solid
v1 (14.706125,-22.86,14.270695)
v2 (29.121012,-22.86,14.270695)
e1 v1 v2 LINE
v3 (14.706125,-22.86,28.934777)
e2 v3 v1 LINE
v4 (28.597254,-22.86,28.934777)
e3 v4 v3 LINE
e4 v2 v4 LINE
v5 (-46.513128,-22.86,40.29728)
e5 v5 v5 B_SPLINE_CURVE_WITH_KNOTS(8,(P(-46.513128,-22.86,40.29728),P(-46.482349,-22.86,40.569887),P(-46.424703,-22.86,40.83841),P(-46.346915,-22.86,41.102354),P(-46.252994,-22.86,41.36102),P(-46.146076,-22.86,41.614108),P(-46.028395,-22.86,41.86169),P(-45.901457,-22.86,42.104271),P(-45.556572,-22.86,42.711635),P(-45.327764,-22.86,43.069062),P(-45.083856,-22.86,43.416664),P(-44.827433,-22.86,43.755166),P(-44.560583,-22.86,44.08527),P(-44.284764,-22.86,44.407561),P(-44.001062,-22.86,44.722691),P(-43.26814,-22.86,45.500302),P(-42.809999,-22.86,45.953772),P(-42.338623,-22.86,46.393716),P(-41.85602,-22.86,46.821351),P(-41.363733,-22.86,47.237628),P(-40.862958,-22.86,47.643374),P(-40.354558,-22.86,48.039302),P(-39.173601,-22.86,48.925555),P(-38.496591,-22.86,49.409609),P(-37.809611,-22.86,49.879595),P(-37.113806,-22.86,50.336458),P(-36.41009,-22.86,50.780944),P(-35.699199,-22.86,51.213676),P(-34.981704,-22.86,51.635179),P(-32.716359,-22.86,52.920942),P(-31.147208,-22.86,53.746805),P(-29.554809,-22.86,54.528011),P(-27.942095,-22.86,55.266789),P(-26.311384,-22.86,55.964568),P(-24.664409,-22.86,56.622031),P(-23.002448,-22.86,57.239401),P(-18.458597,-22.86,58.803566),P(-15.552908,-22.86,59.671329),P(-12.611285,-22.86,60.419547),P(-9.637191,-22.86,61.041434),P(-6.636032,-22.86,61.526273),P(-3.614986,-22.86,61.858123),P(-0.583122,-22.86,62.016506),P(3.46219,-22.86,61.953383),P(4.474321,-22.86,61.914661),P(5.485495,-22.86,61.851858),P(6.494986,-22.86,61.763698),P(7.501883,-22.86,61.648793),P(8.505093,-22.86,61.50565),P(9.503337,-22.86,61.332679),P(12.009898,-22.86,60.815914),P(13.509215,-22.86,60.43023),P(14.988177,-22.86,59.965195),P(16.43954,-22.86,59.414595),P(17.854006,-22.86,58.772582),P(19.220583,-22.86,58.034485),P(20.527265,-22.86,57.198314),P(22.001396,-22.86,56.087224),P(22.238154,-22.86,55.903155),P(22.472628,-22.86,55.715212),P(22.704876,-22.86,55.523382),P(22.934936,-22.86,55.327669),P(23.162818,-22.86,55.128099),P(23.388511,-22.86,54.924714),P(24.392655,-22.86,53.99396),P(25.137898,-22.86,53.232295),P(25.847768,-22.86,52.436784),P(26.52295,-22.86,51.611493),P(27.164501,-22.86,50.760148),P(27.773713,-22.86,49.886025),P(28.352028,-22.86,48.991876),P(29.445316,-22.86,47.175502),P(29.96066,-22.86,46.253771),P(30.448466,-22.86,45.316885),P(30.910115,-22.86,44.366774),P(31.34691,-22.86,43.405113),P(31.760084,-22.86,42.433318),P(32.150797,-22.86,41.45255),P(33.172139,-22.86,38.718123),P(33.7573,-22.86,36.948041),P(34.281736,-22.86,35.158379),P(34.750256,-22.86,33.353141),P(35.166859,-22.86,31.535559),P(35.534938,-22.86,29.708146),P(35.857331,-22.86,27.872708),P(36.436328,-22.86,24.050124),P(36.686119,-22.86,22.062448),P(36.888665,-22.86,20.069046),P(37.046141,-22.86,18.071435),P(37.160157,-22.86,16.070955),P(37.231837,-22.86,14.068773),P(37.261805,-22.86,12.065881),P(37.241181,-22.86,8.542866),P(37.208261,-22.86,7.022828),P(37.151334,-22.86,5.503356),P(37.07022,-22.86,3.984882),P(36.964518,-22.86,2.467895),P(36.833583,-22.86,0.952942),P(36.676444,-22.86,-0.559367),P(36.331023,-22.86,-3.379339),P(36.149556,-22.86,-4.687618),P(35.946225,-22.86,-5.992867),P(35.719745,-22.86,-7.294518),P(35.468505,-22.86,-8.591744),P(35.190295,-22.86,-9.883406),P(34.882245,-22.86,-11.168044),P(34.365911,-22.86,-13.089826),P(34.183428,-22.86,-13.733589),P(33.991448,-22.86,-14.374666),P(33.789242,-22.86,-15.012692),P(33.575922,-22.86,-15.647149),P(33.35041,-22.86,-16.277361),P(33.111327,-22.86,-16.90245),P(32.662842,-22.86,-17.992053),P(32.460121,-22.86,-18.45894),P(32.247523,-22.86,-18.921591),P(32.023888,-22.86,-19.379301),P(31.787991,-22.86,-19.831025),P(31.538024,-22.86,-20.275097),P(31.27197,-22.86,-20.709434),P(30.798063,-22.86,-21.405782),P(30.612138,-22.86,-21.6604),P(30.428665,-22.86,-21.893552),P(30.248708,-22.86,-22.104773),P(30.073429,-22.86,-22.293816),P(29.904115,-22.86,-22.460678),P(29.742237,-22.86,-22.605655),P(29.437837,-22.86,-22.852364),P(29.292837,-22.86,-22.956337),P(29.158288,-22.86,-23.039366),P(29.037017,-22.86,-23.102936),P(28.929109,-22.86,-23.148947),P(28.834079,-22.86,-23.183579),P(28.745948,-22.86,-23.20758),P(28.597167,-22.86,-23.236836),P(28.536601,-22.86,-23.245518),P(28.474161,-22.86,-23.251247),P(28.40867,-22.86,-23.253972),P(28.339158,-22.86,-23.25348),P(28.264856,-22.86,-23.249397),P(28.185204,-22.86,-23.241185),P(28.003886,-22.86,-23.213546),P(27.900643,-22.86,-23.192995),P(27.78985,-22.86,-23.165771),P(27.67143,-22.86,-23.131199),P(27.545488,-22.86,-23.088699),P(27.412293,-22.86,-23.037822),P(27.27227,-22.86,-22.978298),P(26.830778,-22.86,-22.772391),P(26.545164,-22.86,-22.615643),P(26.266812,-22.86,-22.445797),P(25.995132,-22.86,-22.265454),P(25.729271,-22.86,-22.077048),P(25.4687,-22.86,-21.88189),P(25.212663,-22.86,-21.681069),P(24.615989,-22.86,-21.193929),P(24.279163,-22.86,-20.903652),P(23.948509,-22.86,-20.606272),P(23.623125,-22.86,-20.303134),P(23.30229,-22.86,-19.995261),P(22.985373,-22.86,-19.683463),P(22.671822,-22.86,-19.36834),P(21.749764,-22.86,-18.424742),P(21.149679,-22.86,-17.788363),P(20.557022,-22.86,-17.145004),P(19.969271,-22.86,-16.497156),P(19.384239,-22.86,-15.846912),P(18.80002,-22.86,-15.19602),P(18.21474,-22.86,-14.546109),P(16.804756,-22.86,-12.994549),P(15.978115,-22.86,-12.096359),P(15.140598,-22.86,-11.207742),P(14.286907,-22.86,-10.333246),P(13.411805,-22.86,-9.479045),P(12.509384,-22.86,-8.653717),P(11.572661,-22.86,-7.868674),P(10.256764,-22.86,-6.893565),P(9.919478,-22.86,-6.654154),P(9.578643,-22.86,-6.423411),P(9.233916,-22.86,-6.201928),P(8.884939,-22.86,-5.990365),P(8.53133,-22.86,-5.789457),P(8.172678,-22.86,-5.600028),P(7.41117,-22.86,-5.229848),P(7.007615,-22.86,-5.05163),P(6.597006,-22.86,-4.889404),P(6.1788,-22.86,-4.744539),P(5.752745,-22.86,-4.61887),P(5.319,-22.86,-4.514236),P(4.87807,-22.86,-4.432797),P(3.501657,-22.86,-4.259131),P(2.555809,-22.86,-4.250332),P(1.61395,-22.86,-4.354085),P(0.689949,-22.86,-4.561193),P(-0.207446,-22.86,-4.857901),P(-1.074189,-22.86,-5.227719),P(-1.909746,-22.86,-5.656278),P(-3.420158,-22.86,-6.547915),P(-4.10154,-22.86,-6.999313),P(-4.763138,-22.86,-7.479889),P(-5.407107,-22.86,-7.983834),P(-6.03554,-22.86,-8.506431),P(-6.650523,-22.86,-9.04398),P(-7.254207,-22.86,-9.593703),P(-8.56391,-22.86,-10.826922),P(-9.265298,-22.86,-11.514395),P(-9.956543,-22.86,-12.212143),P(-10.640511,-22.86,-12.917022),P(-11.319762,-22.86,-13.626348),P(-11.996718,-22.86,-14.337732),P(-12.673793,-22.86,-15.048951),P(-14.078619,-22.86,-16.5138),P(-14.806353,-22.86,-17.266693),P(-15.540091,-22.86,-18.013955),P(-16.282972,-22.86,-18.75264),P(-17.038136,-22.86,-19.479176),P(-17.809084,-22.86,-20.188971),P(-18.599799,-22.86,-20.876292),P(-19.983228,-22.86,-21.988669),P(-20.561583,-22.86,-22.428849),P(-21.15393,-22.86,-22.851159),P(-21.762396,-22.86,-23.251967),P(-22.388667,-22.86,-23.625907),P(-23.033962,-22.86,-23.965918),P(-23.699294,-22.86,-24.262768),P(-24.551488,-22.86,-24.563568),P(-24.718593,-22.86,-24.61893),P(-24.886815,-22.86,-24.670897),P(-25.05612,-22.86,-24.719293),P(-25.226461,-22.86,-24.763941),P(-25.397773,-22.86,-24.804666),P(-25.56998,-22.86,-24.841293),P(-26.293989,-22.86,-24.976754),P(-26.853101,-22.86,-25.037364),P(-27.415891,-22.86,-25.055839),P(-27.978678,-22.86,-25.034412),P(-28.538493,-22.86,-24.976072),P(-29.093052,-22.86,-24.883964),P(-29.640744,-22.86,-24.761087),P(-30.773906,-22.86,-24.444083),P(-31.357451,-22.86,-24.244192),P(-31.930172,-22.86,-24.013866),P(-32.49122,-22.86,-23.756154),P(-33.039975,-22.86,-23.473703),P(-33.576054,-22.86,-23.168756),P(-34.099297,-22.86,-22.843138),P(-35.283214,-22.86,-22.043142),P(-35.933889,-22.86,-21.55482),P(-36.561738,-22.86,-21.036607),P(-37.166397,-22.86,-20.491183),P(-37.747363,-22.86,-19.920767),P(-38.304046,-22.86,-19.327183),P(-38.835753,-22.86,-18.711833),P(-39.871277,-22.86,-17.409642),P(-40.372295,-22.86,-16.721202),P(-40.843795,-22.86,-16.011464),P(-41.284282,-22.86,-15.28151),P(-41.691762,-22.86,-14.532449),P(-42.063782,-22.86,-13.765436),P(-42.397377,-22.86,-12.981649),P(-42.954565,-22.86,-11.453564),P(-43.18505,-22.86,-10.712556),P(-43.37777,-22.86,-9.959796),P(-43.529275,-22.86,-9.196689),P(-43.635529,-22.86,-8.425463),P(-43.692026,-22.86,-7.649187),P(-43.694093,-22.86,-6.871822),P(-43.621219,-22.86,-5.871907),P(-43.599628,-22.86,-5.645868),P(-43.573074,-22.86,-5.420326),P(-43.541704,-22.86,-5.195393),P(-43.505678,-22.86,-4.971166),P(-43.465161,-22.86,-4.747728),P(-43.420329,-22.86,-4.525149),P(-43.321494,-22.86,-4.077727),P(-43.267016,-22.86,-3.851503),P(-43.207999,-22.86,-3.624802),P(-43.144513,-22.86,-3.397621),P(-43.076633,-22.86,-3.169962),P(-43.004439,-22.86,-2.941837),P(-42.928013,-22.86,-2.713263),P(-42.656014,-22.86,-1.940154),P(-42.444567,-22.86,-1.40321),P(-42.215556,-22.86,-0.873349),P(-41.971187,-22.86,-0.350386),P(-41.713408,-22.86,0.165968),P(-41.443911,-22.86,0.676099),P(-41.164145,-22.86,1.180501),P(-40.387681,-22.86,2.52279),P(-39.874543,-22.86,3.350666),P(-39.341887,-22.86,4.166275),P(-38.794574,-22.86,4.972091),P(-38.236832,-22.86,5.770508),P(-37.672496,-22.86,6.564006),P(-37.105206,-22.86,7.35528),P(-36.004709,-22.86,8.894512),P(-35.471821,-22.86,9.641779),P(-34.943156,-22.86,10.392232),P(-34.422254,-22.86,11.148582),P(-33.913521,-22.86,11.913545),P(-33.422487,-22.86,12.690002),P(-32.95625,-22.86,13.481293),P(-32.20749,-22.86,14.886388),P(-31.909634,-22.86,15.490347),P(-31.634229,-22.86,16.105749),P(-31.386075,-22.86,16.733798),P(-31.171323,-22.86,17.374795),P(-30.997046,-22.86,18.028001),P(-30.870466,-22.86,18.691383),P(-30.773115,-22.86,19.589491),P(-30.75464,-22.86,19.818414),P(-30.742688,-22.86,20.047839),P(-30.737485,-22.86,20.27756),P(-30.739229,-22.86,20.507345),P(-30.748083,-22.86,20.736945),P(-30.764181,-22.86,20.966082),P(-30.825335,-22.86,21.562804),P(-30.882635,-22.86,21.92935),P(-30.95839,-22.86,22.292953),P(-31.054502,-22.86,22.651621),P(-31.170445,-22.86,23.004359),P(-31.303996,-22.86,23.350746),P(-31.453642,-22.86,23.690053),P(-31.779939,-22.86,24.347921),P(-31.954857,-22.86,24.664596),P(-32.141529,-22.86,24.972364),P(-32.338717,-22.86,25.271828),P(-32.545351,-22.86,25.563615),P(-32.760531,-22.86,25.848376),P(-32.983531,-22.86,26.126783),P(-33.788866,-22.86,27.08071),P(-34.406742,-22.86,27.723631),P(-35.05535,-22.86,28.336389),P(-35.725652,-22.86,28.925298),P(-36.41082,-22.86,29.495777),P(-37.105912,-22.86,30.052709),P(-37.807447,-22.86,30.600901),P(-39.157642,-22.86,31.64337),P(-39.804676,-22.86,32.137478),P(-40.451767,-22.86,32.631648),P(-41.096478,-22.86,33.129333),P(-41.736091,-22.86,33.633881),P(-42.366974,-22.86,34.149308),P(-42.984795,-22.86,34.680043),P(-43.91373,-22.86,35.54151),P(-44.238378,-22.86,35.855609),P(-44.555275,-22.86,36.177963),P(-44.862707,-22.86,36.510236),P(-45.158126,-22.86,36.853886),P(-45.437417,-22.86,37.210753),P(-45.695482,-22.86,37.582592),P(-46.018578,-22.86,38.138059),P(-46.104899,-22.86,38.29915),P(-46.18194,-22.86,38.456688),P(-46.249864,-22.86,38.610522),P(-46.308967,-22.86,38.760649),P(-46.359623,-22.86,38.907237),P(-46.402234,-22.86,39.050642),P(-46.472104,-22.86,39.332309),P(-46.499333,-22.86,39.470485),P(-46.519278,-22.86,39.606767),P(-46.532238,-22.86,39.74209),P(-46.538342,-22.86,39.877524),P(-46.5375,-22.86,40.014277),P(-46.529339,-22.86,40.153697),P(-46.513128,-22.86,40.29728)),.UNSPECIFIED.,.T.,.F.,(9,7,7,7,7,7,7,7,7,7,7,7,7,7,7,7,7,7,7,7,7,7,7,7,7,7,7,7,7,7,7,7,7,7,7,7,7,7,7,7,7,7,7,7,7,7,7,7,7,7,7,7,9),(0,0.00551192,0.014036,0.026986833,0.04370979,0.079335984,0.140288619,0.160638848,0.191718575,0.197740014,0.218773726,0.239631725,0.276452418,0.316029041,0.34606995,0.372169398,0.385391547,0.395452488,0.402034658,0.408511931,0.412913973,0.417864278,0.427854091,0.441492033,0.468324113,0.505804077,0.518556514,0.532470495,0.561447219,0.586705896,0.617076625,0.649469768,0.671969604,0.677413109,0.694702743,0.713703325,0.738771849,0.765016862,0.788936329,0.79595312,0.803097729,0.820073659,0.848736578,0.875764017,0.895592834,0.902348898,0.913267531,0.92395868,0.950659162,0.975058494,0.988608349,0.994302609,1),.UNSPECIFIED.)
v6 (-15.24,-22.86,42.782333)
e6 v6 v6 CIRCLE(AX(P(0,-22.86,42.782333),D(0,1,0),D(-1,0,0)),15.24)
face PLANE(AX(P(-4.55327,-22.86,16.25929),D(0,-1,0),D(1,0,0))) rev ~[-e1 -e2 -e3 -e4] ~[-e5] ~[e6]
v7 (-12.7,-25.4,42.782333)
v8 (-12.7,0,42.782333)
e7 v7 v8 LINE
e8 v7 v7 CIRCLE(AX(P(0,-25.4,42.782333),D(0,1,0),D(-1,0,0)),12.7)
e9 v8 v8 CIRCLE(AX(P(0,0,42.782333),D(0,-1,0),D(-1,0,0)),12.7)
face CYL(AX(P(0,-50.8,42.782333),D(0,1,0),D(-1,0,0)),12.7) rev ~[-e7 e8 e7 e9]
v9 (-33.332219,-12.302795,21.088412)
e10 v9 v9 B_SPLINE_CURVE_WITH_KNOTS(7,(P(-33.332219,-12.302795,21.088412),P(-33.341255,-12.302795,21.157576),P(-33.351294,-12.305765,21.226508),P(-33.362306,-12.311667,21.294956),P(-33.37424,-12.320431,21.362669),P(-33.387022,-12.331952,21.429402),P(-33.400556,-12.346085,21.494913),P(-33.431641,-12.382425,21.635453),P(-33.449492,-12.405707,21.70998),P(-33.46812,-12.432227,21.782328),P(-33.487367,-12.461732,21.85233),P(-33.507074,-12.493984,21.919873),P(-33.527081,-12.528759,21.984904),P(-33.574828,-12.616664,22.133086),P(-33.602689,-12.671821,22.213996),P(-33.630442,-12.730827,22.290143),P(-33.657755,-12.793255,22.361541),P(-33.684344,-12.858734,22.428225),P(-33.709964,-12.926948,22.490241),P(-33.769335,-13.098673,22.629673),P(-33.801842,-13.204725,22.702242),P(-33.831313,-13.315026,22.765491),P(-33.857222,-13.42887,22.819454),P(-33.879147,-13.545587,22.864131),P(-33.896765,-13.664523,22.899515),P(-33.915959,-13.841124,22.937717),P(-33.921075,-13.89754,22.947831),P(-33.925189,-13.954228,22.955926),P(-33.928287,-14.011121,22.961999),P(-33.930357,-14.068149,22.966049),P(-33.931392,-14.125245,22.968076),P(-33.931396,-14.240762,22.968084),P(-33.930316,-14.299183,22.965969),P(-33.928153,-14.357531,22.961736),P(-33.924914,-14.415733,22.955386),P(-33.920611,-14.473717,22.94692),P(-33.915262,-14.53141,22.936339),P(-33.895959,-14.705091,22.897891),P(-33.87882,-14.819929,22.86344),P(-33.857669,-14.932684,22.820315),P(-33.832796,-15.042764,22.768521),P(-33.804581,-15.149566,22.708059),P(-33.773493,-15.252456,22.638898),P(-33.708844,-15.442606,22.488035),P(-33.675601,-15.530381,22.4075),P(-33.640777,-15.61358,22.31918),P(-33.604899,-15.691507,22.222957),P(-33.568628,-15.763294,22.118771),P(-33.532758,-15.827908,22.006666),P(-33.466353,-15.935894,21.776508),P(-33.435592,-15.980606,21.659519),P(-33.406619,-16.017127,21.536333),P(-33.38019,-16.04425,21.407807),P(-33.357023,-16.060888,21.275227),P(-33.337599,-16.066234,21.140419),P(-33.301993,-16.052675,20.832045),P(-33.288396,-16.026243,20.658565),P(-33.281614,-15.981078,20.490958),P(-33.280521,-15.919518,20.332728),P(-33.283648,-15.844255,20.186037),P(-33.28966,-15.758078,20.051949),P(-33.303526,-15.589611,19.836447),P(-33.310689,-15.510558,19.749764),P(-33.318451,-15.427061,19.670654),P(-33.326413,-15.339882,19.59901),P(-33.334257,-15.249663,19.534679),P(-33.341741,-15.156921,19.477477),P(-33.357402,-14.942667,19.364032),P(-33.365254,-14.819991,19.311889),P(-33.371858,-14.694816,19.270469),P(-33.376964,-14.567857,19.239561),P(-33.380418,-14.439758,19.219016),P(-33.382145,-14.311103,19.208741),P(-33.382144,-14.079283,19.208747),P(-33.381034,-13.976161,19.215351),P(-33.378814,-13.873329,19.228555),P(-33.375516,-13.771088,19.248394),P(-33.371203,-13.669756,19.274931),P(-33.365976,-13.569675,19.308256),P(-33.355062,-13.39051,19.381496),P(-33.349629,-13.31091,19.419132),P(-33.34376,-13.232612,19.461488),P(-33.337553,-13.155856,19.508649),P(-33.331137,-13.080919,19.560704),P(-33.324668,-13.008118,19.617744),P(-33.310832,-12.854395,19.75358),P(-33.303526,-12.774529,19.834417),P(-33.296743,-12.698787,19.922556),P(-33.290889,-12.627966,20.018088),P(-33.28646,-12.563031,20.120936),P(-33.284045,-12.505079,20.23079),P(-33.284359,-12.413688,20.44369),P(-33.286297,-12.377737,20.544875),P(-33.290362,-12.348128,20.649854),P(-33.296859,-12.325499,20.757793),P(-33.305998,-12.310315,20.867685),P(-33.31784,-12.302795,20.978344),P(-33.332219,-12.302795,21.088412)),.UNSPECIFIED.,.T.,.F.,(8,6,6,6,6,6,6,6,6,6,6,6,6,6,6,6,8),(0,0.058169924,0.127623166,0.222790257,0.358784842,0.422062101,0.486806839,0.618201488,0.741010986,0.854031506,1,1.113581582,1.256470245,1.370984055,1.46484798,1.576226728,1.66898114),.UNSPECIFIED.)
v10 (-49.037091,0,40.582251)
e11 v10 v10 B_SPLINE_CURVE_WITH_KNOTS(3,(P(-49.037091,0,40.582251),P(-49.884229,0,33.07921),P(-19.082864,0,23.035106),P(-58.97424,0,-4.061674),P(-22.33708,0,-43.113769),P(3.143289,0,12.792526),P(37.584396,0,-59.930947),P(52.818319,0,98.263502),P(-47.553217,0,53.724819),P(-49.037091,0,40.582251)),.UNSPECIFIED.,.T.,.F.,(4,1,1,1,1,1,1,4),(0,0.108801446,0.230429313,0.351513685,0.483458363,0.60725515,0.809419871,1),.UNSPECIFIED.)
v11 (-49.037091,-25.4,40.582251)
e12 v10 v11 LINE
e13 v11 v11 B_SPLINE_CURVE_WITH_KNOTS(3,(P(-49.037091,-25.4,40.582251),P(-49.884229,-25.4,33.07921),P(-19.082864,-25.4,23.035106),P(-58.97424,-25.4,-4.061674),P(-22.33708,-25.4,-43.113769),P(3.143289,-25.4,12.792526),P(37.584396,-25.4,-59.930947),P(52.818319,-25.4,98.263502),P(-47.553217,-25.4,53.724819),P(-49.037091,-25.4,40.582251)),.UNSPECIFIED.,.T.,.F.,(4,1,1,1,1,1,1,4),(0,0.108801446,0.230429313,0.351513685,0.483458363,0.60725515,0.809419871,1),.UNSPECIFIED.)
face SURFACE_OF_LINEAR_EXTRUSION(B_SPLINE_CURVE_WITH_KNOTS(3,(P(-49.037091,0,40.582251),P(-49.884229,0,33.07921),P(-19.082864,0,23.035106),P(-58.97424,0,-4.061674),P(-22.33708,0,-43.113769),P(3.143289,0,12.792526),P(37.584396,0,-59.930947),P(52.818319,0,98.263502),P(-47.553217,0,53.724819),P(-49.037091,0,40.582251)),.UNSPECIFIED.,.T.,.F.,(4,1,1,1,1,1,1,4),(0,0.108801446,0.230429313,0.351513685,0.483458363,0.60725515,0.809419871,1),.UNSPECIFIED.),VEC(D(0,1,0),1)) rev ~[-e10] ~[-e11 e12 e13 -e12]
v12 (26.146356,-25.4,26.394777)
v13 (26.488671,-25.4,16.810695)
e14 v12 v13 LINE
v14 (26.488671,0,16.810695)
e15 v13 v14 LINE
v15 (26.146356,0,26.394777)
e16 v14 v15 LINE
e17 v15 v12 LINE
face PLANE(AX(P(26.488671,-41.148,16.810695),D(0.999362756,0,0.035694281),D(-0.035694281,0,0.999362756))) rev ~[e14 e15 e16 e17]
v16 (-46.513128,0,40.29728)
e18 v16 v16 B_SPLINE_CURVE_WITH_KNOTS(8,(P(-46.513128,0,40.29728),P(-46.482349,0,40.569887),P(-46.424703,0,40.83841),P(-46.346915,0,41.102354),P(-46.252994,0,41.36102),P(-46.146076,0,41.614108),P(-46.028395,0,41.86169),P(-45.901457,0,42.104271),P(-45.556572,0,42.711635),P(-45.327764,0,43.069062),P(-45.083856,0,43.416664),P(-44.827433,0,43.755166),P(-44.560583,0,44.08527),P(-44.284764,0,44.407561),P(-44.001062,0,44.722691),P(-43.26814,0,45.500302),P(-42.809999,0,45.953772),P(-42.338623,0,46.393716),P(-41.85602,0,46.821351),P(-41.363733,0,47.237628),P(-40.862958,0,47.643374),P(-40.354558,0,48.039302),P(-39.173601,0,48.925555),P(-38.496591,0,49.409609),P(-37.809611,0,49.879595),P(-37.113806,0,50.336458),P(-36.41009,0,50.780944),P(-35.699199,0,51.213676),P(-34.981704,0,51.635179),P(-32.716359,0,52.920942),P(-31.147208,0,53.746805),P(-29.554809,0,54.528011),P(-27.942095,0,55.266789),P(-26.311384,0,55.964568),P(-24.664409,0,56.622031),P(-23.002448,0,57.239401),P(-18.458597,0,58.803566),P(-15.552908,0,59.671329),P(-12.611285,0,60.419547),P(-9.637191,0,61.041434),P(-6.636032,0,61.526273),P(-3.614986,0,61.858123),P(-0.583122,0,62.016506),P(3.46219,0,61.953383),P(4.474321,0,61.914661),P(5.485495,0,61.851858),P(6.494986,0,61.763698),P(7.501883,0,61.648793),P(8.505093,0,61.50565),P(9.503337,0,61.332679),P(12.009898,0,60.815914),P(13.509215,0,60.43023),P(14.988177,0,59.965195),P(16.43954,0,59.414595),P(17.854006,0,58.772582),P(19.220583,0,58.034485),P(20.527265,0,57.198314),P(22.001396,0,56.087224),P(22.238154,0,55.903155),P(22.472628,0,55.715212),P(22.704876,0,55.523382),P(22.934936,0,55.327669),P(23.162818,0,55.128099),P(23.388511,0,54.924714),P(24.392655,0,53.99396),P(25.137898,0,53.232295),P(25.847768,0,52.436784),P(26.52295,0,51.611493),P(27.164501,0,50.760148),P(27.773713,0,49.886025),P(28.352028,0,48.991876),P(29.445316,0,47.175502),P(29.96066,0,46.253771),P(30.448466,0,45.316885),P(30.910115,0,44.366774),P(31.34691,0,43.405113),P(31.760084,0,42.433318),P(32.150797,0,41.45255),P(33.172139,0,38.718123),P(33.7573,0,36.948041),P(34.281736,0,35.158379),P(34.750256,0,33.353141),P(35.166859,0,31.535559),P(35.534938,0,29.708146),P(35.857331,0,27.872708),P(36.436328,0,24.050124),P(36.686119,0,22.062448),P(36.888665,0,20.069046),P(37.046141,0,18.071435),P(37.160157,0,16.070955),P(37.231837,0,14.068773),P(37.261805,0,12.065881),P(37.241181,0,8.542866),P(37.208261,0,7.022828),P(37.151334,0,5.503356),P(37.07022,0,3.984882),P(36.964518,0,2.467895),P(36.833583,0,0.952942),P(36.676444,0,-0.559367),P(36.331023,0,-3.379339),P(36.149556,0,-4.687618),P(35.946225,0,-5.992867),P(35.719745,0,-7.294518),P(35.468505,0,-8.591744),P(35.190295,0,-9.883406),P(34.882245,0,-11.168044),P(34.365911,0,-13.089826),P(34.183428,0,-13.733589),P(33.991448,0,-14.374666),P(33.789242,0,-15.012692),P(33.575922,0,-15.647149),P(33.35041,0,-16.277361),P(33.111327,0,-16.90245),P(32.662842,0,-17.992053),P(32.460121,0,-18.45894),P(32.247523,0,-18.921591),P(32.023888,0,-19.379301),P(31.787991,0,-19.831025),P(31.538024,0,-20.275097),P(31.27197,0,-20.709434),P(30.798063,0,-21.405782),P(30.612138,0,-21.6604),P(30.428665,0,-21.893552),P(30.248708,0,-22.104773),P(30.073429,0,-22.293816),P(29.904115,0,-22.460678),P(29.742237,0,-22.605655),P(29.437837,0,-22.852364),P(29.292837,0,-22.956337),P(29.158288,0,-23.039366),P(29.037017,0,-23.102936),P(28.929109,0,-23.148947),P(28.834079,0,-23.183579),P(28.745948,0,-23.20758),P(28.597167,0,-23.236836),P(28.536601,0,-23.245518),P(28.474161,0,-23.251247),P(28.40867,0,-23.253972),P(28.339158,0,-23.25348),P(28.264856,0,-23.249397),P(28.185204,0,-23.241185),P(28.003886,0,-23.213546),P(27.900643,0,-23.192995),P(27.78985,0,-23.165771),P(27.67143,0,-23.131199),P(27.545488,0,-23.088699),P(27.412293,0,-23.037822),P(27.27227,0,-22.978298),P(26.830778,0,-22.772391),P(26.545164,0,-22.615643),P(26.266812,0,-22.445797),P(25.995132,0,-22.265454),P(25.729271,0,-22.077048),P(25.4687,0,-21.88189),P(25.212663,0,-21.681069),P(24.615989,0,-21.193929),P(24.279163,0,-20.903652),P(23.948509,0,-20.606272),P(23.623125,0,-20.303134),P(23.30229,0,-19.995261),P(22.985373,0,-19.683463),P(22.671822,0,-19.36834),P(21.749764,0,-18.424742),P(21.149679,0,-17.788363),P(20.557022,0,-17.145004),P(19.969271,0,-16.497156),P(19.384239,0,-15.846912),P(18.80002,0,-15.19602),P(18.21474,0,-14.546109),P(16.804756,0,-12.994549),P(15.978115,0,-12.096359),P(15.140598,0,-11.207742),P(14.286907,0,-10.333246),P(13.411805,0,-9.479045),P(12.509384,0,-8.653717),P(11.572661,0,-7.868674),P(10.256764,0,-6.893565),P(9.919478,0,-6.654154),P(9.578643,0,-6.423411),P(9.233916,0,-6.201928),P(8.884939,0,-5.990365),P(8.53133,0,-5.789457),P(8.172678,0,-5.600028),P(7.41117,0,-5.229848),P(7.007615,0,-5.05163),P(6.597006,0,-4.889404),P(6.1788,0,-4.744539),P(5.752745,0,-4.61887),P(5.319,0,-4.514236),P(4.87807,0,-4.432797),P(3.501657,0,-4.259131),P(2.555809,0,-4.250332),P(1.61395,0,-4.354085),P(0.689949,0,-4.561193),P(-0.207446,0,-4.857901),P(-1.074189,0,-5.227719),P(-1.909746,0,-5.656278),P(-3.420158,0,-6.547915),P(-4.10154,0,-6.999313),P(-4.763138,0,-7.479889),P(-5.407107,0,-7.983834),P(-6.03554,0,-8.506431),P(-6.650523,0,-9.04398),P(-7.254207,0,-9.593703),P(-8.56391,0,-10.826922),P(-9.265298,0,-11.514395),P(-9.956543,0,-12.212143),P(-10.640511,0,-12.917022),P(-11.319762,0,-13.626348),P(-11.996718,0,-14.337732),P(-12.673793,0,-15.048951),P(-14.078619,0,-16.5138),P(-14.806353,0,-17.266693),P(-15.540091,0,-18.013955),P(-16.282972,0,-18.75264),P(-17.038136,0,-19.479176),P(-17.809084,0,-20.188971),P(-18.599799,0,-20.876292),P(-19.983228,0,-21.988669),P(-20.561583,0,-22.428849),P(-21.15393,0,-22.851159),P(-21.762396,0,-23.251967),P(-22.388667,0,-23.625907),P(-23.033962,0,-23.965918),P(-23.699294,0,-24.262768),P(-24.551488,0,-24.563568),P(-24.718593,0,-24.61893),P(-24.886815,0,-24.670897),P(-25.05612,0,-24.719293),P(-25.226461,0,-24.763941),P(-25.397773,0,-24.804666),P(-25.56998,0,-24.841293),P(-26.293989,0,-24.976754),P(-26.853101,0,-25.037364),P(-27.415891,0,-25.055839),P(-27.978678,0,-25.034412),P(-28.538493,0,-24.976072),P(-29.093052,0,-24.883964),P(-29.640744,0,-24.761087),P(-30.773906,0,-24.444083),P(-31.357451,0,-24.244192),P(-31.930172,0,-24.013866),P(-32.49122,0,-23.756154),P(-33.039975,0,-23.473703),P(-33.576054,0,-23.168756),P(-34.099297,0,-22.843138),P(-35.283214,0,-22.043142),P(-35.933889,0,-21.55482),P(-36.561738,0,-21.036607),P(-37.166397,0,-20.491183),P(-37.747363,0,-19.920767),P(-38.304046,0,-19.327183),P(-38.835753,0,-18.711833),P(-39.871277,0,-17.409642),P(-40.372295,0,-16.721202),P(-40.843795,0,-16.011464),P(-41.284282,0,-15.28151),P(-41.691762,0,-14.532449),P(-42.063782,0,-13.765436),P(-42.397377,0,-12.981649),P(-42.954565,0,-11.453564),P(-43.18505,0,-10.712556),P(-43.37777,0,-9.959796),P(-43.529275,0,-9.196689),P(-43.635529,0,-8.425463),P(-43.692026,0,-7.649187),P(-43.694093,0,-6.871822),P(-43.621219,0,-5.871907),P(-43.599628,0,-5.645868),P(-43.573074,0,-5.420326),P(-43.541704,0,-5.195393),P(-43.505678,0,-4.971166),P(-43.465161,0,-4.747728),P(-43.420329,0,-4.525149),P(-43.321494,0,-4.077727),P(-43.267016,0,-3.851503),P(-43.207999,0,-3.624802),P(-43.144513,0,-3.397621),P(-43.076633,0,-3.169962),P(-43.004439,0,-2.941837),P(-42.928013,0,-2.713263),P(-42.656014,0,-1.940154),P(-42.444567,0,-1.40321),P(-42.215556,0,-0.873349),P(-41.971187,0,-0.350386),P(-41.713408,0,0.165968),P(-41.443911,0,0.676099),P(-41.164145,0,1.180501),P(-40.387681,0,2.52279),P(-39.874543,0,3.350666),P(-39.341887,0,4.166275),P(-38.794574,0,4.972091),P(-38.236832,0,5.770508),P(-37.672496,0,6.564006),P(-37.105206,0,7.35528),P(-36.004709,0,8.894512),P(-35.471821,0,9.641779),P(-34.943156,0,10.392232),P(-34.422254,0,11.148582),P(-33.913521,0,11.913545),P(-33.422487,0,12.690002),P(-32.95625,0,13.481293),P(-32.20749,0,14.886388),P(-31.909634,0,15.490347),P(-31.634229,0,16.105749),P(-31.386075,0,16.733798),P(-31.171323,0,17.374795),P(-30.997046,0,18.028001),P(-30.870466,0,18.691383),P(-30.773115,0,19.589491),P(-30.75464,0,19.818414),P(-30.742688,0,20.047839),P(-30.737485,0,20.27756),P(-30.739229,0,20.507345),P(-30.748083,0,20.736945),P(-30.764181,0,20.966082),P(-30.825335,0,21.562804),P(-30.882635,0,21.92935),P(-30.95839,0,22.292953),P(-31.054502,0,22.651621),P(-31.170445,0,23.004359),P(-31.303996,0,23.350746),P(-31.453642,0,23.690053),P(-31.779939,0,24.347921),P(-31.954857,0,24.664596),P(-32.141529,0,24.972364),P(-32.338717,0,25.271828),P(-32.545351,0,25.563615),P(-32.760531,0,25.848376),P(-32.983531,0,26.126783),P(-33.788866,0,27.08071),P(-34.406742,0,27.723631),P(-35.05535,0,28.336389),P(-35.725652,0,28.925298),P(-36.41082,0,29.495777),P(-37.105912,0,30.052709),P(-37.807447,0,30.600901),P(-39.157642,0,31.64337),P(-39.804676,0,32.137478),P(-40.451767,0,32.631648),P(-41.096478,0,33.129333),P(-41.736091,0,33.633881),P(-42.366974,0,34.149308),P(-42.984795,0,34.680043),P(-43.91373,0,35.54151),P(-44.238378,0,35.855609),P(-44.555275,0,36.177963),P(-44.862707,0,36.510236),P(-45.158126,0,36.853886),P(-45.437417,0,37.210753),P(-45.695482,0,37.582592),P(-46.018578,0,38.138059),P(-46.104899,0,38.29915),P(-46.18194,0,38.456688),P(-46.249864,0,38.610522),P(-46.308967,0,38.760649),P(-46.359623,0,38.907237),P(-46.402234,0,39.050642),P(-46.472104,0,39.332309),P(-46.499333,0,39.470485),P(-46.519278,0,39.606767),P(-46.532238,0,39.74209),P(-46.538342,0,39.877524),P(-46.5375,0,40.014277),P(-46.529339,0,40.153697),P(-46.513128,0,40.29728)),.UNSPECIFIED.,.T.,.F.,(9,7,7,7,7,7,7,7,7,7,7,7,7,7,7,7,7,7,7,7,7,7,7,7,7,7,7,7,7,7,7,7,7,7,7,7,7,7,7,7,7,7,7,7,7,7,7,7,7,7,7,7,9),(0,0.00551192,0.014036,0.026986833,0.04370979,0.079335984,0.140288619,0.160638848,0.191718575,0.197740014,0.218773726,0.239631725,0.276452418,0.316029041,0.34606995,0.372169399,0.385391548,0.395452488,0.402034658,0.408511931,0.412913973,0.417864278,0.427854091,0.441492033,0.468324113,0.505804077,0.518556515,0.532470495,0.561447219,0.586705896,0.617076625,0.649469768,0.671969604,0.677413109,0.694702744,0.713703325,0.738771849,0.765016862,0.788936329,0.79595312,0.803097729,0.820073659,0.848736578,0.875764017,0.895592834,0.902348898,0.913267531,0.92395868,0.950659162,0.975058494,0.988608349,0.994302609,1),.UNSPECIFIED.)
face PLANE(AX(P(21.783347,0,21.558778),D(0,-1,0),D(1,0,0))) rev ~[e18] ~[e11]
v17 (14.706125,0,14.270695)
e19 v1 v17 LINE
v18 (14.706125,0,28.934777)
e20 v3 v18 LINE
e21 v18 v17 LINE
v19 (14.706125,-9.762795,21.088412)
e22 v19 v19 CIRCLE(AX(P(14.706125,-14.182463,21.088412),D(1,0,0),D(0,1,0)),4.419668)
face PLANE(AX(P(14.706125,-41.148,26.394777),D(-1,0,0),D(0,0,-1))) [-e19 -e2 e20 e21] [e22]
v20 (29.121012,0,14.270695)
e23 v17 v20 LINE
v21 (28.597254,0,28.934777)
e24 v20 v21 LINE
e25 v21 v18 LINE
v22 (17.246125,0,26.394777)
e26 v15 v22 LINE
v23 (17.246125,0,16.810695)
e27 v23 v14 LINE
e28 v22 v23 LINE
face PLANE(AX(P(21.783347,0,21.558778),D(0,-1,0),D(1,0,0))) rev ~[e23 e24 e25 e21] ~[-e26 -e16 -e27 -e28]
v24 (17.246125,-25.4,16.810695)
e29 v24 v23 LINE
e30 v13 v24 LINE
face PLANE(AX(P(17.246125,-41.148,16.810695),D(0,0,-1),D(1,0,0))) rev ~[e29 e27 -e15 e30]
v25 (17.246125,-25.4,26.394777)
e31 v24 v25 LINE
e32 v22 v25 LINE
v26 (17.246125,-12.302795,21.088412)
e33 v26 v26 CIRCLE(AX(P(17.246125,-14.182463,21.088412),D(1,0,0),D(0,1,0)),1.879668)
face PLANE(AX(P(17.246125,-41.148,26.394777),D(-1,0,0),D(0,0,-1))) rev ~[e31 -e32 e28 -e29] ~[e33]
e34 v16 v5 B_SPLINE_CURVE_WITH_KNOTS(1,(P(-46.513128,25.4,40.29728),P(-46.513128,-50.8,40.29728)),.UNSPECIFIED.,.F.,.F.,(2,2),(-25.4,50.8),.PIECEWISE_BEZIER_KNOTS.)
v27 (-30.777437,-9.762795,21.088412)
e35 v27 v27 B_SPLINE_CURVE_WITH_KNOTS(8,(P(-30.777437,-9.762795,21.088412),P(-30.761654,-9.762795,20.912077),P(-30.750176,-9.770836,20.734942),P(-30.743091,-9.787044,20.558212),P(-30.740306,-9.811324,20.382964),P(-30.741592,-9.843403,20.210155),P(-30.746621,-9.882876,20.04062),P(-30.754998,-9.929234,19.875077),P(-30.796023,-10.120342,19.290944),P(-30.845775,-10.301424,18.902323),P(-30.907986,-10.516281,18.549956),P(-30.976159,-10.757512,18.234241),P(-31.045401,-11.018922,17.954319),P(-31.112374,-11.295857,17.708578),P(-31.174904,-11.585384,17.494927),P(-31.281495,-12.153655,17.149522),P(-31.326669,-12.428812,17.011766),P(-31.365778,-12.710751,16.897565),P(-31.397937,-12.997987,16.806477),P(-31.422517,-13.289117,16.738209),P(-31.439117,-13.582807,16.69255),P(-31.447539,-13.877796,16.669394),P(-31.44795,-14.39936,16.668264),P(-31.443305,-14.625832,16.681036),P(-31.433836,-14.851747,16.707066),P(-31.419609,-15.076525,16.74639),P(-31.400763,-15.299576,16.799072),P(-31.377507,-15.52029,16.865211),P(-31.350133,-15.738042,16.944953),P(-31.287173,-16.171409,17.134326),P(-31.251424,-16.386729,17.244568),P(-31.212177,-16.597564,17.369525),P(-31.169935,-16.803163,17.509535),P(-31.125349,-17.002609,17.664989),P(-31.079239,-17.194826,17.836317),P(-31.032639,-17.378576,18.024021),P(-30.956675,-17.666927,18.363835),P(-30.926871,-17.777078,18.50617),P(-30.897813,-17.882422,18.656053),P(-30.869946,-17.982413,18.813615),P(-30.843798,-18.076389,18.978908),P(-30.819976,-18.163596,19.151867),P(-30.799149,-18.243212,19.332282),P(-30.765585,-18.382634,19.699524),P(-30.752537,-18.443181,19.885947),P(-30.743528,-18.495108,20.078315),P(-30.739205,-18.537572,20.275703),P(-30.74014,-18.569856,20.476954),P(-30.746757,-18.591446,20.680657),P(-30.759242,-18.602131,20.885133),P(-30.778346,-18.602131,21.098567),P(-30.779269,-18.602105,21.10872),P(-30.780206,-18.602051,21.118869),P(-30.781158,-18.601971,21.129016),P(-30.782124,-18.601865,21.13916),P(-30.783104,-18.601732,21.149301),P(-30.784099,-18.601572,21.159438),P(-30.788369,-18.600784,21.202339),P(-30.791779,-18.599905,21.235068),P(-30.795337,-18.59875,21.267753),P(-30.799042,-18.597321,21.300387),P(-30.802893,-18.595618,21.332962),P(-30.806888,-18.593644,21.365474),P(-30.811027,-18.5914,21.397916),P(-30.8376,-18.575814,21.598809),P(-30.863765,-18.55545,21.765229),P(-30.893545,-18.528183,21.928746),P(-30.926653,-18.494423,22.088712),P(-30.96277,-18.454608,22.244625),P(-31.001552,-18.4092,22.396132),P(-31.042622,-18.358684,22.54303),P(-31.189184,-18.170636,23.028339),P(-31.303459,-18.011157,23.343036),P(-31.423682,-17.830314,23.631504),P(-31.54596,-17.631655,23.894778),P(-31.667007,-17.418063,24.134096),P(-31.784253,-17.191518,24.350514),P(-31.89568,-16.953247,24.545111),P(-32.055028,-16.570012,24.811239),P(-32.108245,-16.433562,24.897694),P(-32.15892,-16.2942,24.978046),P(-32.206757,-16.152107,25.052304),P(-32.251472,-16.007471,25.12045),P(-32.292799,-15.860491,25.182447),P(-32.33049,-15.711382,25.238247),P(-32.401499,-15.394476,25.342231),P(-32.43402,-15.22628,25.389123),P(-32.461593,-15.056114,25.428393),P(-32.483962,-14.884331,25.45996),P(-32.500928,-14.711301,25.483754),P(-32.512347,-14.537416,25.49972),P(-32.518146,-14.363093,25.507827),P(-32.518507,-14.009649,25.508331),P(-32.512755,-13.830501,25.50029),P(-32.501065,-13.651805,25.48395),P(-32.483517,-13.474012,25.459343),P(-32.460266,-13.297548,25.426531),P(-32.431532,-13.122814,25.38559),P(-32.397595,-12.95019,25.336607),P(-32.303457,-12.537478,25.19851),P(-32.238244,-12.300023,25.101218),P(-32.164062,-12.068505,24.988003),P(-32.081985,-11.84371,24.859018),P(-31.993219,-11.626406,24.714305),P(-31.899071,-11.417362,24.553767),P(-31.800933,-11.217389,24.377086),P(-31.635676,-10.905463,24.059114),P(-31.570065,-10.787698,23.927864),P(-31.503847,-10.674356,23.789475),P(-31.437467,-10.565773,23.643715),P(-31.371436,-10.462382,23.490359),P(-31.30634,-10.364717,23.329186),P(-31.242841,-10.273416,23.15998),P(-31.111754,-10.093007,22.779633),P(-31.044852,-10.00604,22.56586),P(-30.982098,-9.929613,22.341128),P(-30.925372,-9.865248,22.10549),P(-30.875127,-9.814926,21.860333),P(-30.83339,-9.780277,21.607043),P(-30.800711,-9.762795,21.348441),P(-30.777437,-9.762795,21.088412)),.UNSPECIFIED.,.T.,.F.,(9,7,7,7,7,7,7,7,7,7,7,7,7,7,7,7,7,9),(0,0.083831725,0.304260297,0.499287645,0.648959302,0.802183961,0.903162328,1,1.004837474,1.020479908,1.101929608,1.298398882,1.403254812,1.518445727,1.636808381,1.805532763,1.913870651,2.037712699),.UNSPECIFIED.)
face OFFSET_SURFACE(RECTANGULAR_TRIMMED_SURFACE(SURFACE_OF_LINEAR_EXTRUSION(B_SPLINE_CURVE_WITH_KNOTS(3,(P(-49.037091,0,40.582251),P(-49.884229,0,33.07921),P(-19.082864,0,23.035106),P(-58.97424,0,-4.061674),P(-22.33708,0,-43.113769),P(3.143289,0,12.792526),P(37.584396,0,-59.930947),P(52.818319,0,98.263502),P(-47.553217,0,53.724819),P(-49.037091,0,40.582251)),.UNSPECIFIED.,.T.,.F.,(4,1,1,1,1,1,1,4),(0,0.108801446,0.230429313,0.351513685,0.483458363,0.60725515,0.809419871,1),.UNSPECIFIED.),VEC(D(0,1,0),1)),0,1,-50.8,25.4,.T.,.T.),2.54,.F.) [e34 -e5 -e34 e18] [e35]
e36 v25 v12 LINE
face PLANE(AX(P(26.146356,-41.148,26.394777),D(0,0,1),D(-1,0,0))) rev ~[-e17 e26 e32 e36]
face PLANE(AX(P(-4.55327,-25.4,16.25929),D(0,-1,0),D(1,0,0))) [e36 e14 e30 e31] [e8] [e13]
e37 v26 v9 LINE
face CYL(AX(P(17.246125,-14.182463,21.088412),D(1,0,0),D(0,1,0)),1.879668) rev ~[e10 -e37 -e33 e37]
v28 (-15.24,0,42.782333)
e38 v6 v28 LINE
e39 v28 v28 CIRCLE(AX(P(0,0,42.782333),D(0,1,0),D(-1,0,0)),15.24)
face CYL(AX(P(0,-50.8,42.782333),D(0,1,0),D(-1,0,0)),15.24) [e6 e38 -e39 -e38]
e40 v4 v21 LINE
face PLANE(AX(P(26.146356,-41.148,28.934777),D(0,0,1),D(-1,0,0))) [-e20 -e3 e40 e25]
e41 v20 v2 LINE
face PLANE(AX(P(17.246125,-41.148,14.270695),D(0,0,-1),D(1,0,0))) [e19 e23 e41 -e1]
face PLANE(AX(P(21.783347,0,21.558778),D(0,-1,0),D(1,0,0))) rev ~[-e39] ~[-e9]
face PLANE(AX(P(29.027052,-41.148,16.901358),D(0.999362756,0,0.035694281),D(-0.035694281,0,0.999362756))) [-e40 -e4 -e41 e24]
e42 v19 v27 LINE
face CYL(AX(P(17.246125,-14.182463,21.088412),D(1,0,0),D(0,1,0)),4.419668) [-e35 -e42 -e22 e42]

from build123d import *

# Parameters (mm, degrees)
F1_DEPTH = 25.4
F3_D     = 25.4
F3_DEPTH = 25.4
F3_TIP   = 7.6309298617
F5_DEPTH = 41.148
F6_DEPTH = 96.774
F7_R     = 1.8796679151
F8_DEPTH = 63.246
F9_T     = -2.54


with BuildPart() as f1:
    # F0 (on Front) → F1 (new body)
    with BuildSketch(Plane.XZ):
        with BuildLine():
            add(Edge.make_bspline(
                [(-49.037091434, 40.5822508037), (-49.8842294152, 33.0792104303), (-19.0828641983, 23.0351064896), (-58.9742398775, -4.0616741189), (-22.3370798724, -43.1137691563), (3.143289099, 12.7925255304), (37.5843956188, -59.9309465682), (52.8183186462, 98.2635024972), (-47.5532171706, 53.7248187846), (-49.037091434, 40.5822508037)],
                knots=[0, 0, 0, 0, 0.1088014462, 0.2304293127, 0.3515136853, 0.4834583634, 0.6072551503, 0.809419871, 1, 1, 1, 1], degree=3))
        make_face()
    extrude(amount=F1_DEPTH)

    # F3
    with Locations(Plane.XZ.offset(25.4)):
        with Locations((0, 42.782332614)):
            Hole(F3_D / 2, depth=F3_DEPTH)
            with Locations((0, 0, -(F3_DEPTH + F3_TIP / 2))):  # 118° drill point
                Cone(0, F3_D / 2, F3_TIP, mode=Mode.SUBTRACT)

    # F4 (on Front) → F5 (join)
    with BuildSketch(Plane.XZ):
        Polygon((26.4886710793, 16.8106947094), (26.1463560164, 26.394777), (17.246125266, 26.394777), (17.246125266, 16.8106947094), align=None)
    extrude(amount=F5_DEPTH)

    # F6 (cut, symmetric): a face of the model
    f6_faces = [f1.faces().sort_by_distance(p)[0] for p in [
        (21.7823576358, -41.148, 21.5725973611),
    ]]
    extrude(f6_faces, amount=F6_DEPTH, both=True, mode=Mode.SUBTRACT)

    # F7 (on face) → F8 (cut)
    with BuildSketch(Plane.YZ.offset(17.246125266)):
        with Locations((-14.1824632883, 21.0884120315)):
            Circle(F7_R)
    extrude(amount=-F8_DEPTH, mode=Mode.SUBTRACT)

    # F9
    f9_openings = [f1.faces().sort_by_distance(p)[0] for p in [
        (-3.658718, 0, 17.702257),
    ]]
    offset(amount=F9_T, openings=f9_openings, kind=Kind.INTERSECTION)


solid = f1.part
